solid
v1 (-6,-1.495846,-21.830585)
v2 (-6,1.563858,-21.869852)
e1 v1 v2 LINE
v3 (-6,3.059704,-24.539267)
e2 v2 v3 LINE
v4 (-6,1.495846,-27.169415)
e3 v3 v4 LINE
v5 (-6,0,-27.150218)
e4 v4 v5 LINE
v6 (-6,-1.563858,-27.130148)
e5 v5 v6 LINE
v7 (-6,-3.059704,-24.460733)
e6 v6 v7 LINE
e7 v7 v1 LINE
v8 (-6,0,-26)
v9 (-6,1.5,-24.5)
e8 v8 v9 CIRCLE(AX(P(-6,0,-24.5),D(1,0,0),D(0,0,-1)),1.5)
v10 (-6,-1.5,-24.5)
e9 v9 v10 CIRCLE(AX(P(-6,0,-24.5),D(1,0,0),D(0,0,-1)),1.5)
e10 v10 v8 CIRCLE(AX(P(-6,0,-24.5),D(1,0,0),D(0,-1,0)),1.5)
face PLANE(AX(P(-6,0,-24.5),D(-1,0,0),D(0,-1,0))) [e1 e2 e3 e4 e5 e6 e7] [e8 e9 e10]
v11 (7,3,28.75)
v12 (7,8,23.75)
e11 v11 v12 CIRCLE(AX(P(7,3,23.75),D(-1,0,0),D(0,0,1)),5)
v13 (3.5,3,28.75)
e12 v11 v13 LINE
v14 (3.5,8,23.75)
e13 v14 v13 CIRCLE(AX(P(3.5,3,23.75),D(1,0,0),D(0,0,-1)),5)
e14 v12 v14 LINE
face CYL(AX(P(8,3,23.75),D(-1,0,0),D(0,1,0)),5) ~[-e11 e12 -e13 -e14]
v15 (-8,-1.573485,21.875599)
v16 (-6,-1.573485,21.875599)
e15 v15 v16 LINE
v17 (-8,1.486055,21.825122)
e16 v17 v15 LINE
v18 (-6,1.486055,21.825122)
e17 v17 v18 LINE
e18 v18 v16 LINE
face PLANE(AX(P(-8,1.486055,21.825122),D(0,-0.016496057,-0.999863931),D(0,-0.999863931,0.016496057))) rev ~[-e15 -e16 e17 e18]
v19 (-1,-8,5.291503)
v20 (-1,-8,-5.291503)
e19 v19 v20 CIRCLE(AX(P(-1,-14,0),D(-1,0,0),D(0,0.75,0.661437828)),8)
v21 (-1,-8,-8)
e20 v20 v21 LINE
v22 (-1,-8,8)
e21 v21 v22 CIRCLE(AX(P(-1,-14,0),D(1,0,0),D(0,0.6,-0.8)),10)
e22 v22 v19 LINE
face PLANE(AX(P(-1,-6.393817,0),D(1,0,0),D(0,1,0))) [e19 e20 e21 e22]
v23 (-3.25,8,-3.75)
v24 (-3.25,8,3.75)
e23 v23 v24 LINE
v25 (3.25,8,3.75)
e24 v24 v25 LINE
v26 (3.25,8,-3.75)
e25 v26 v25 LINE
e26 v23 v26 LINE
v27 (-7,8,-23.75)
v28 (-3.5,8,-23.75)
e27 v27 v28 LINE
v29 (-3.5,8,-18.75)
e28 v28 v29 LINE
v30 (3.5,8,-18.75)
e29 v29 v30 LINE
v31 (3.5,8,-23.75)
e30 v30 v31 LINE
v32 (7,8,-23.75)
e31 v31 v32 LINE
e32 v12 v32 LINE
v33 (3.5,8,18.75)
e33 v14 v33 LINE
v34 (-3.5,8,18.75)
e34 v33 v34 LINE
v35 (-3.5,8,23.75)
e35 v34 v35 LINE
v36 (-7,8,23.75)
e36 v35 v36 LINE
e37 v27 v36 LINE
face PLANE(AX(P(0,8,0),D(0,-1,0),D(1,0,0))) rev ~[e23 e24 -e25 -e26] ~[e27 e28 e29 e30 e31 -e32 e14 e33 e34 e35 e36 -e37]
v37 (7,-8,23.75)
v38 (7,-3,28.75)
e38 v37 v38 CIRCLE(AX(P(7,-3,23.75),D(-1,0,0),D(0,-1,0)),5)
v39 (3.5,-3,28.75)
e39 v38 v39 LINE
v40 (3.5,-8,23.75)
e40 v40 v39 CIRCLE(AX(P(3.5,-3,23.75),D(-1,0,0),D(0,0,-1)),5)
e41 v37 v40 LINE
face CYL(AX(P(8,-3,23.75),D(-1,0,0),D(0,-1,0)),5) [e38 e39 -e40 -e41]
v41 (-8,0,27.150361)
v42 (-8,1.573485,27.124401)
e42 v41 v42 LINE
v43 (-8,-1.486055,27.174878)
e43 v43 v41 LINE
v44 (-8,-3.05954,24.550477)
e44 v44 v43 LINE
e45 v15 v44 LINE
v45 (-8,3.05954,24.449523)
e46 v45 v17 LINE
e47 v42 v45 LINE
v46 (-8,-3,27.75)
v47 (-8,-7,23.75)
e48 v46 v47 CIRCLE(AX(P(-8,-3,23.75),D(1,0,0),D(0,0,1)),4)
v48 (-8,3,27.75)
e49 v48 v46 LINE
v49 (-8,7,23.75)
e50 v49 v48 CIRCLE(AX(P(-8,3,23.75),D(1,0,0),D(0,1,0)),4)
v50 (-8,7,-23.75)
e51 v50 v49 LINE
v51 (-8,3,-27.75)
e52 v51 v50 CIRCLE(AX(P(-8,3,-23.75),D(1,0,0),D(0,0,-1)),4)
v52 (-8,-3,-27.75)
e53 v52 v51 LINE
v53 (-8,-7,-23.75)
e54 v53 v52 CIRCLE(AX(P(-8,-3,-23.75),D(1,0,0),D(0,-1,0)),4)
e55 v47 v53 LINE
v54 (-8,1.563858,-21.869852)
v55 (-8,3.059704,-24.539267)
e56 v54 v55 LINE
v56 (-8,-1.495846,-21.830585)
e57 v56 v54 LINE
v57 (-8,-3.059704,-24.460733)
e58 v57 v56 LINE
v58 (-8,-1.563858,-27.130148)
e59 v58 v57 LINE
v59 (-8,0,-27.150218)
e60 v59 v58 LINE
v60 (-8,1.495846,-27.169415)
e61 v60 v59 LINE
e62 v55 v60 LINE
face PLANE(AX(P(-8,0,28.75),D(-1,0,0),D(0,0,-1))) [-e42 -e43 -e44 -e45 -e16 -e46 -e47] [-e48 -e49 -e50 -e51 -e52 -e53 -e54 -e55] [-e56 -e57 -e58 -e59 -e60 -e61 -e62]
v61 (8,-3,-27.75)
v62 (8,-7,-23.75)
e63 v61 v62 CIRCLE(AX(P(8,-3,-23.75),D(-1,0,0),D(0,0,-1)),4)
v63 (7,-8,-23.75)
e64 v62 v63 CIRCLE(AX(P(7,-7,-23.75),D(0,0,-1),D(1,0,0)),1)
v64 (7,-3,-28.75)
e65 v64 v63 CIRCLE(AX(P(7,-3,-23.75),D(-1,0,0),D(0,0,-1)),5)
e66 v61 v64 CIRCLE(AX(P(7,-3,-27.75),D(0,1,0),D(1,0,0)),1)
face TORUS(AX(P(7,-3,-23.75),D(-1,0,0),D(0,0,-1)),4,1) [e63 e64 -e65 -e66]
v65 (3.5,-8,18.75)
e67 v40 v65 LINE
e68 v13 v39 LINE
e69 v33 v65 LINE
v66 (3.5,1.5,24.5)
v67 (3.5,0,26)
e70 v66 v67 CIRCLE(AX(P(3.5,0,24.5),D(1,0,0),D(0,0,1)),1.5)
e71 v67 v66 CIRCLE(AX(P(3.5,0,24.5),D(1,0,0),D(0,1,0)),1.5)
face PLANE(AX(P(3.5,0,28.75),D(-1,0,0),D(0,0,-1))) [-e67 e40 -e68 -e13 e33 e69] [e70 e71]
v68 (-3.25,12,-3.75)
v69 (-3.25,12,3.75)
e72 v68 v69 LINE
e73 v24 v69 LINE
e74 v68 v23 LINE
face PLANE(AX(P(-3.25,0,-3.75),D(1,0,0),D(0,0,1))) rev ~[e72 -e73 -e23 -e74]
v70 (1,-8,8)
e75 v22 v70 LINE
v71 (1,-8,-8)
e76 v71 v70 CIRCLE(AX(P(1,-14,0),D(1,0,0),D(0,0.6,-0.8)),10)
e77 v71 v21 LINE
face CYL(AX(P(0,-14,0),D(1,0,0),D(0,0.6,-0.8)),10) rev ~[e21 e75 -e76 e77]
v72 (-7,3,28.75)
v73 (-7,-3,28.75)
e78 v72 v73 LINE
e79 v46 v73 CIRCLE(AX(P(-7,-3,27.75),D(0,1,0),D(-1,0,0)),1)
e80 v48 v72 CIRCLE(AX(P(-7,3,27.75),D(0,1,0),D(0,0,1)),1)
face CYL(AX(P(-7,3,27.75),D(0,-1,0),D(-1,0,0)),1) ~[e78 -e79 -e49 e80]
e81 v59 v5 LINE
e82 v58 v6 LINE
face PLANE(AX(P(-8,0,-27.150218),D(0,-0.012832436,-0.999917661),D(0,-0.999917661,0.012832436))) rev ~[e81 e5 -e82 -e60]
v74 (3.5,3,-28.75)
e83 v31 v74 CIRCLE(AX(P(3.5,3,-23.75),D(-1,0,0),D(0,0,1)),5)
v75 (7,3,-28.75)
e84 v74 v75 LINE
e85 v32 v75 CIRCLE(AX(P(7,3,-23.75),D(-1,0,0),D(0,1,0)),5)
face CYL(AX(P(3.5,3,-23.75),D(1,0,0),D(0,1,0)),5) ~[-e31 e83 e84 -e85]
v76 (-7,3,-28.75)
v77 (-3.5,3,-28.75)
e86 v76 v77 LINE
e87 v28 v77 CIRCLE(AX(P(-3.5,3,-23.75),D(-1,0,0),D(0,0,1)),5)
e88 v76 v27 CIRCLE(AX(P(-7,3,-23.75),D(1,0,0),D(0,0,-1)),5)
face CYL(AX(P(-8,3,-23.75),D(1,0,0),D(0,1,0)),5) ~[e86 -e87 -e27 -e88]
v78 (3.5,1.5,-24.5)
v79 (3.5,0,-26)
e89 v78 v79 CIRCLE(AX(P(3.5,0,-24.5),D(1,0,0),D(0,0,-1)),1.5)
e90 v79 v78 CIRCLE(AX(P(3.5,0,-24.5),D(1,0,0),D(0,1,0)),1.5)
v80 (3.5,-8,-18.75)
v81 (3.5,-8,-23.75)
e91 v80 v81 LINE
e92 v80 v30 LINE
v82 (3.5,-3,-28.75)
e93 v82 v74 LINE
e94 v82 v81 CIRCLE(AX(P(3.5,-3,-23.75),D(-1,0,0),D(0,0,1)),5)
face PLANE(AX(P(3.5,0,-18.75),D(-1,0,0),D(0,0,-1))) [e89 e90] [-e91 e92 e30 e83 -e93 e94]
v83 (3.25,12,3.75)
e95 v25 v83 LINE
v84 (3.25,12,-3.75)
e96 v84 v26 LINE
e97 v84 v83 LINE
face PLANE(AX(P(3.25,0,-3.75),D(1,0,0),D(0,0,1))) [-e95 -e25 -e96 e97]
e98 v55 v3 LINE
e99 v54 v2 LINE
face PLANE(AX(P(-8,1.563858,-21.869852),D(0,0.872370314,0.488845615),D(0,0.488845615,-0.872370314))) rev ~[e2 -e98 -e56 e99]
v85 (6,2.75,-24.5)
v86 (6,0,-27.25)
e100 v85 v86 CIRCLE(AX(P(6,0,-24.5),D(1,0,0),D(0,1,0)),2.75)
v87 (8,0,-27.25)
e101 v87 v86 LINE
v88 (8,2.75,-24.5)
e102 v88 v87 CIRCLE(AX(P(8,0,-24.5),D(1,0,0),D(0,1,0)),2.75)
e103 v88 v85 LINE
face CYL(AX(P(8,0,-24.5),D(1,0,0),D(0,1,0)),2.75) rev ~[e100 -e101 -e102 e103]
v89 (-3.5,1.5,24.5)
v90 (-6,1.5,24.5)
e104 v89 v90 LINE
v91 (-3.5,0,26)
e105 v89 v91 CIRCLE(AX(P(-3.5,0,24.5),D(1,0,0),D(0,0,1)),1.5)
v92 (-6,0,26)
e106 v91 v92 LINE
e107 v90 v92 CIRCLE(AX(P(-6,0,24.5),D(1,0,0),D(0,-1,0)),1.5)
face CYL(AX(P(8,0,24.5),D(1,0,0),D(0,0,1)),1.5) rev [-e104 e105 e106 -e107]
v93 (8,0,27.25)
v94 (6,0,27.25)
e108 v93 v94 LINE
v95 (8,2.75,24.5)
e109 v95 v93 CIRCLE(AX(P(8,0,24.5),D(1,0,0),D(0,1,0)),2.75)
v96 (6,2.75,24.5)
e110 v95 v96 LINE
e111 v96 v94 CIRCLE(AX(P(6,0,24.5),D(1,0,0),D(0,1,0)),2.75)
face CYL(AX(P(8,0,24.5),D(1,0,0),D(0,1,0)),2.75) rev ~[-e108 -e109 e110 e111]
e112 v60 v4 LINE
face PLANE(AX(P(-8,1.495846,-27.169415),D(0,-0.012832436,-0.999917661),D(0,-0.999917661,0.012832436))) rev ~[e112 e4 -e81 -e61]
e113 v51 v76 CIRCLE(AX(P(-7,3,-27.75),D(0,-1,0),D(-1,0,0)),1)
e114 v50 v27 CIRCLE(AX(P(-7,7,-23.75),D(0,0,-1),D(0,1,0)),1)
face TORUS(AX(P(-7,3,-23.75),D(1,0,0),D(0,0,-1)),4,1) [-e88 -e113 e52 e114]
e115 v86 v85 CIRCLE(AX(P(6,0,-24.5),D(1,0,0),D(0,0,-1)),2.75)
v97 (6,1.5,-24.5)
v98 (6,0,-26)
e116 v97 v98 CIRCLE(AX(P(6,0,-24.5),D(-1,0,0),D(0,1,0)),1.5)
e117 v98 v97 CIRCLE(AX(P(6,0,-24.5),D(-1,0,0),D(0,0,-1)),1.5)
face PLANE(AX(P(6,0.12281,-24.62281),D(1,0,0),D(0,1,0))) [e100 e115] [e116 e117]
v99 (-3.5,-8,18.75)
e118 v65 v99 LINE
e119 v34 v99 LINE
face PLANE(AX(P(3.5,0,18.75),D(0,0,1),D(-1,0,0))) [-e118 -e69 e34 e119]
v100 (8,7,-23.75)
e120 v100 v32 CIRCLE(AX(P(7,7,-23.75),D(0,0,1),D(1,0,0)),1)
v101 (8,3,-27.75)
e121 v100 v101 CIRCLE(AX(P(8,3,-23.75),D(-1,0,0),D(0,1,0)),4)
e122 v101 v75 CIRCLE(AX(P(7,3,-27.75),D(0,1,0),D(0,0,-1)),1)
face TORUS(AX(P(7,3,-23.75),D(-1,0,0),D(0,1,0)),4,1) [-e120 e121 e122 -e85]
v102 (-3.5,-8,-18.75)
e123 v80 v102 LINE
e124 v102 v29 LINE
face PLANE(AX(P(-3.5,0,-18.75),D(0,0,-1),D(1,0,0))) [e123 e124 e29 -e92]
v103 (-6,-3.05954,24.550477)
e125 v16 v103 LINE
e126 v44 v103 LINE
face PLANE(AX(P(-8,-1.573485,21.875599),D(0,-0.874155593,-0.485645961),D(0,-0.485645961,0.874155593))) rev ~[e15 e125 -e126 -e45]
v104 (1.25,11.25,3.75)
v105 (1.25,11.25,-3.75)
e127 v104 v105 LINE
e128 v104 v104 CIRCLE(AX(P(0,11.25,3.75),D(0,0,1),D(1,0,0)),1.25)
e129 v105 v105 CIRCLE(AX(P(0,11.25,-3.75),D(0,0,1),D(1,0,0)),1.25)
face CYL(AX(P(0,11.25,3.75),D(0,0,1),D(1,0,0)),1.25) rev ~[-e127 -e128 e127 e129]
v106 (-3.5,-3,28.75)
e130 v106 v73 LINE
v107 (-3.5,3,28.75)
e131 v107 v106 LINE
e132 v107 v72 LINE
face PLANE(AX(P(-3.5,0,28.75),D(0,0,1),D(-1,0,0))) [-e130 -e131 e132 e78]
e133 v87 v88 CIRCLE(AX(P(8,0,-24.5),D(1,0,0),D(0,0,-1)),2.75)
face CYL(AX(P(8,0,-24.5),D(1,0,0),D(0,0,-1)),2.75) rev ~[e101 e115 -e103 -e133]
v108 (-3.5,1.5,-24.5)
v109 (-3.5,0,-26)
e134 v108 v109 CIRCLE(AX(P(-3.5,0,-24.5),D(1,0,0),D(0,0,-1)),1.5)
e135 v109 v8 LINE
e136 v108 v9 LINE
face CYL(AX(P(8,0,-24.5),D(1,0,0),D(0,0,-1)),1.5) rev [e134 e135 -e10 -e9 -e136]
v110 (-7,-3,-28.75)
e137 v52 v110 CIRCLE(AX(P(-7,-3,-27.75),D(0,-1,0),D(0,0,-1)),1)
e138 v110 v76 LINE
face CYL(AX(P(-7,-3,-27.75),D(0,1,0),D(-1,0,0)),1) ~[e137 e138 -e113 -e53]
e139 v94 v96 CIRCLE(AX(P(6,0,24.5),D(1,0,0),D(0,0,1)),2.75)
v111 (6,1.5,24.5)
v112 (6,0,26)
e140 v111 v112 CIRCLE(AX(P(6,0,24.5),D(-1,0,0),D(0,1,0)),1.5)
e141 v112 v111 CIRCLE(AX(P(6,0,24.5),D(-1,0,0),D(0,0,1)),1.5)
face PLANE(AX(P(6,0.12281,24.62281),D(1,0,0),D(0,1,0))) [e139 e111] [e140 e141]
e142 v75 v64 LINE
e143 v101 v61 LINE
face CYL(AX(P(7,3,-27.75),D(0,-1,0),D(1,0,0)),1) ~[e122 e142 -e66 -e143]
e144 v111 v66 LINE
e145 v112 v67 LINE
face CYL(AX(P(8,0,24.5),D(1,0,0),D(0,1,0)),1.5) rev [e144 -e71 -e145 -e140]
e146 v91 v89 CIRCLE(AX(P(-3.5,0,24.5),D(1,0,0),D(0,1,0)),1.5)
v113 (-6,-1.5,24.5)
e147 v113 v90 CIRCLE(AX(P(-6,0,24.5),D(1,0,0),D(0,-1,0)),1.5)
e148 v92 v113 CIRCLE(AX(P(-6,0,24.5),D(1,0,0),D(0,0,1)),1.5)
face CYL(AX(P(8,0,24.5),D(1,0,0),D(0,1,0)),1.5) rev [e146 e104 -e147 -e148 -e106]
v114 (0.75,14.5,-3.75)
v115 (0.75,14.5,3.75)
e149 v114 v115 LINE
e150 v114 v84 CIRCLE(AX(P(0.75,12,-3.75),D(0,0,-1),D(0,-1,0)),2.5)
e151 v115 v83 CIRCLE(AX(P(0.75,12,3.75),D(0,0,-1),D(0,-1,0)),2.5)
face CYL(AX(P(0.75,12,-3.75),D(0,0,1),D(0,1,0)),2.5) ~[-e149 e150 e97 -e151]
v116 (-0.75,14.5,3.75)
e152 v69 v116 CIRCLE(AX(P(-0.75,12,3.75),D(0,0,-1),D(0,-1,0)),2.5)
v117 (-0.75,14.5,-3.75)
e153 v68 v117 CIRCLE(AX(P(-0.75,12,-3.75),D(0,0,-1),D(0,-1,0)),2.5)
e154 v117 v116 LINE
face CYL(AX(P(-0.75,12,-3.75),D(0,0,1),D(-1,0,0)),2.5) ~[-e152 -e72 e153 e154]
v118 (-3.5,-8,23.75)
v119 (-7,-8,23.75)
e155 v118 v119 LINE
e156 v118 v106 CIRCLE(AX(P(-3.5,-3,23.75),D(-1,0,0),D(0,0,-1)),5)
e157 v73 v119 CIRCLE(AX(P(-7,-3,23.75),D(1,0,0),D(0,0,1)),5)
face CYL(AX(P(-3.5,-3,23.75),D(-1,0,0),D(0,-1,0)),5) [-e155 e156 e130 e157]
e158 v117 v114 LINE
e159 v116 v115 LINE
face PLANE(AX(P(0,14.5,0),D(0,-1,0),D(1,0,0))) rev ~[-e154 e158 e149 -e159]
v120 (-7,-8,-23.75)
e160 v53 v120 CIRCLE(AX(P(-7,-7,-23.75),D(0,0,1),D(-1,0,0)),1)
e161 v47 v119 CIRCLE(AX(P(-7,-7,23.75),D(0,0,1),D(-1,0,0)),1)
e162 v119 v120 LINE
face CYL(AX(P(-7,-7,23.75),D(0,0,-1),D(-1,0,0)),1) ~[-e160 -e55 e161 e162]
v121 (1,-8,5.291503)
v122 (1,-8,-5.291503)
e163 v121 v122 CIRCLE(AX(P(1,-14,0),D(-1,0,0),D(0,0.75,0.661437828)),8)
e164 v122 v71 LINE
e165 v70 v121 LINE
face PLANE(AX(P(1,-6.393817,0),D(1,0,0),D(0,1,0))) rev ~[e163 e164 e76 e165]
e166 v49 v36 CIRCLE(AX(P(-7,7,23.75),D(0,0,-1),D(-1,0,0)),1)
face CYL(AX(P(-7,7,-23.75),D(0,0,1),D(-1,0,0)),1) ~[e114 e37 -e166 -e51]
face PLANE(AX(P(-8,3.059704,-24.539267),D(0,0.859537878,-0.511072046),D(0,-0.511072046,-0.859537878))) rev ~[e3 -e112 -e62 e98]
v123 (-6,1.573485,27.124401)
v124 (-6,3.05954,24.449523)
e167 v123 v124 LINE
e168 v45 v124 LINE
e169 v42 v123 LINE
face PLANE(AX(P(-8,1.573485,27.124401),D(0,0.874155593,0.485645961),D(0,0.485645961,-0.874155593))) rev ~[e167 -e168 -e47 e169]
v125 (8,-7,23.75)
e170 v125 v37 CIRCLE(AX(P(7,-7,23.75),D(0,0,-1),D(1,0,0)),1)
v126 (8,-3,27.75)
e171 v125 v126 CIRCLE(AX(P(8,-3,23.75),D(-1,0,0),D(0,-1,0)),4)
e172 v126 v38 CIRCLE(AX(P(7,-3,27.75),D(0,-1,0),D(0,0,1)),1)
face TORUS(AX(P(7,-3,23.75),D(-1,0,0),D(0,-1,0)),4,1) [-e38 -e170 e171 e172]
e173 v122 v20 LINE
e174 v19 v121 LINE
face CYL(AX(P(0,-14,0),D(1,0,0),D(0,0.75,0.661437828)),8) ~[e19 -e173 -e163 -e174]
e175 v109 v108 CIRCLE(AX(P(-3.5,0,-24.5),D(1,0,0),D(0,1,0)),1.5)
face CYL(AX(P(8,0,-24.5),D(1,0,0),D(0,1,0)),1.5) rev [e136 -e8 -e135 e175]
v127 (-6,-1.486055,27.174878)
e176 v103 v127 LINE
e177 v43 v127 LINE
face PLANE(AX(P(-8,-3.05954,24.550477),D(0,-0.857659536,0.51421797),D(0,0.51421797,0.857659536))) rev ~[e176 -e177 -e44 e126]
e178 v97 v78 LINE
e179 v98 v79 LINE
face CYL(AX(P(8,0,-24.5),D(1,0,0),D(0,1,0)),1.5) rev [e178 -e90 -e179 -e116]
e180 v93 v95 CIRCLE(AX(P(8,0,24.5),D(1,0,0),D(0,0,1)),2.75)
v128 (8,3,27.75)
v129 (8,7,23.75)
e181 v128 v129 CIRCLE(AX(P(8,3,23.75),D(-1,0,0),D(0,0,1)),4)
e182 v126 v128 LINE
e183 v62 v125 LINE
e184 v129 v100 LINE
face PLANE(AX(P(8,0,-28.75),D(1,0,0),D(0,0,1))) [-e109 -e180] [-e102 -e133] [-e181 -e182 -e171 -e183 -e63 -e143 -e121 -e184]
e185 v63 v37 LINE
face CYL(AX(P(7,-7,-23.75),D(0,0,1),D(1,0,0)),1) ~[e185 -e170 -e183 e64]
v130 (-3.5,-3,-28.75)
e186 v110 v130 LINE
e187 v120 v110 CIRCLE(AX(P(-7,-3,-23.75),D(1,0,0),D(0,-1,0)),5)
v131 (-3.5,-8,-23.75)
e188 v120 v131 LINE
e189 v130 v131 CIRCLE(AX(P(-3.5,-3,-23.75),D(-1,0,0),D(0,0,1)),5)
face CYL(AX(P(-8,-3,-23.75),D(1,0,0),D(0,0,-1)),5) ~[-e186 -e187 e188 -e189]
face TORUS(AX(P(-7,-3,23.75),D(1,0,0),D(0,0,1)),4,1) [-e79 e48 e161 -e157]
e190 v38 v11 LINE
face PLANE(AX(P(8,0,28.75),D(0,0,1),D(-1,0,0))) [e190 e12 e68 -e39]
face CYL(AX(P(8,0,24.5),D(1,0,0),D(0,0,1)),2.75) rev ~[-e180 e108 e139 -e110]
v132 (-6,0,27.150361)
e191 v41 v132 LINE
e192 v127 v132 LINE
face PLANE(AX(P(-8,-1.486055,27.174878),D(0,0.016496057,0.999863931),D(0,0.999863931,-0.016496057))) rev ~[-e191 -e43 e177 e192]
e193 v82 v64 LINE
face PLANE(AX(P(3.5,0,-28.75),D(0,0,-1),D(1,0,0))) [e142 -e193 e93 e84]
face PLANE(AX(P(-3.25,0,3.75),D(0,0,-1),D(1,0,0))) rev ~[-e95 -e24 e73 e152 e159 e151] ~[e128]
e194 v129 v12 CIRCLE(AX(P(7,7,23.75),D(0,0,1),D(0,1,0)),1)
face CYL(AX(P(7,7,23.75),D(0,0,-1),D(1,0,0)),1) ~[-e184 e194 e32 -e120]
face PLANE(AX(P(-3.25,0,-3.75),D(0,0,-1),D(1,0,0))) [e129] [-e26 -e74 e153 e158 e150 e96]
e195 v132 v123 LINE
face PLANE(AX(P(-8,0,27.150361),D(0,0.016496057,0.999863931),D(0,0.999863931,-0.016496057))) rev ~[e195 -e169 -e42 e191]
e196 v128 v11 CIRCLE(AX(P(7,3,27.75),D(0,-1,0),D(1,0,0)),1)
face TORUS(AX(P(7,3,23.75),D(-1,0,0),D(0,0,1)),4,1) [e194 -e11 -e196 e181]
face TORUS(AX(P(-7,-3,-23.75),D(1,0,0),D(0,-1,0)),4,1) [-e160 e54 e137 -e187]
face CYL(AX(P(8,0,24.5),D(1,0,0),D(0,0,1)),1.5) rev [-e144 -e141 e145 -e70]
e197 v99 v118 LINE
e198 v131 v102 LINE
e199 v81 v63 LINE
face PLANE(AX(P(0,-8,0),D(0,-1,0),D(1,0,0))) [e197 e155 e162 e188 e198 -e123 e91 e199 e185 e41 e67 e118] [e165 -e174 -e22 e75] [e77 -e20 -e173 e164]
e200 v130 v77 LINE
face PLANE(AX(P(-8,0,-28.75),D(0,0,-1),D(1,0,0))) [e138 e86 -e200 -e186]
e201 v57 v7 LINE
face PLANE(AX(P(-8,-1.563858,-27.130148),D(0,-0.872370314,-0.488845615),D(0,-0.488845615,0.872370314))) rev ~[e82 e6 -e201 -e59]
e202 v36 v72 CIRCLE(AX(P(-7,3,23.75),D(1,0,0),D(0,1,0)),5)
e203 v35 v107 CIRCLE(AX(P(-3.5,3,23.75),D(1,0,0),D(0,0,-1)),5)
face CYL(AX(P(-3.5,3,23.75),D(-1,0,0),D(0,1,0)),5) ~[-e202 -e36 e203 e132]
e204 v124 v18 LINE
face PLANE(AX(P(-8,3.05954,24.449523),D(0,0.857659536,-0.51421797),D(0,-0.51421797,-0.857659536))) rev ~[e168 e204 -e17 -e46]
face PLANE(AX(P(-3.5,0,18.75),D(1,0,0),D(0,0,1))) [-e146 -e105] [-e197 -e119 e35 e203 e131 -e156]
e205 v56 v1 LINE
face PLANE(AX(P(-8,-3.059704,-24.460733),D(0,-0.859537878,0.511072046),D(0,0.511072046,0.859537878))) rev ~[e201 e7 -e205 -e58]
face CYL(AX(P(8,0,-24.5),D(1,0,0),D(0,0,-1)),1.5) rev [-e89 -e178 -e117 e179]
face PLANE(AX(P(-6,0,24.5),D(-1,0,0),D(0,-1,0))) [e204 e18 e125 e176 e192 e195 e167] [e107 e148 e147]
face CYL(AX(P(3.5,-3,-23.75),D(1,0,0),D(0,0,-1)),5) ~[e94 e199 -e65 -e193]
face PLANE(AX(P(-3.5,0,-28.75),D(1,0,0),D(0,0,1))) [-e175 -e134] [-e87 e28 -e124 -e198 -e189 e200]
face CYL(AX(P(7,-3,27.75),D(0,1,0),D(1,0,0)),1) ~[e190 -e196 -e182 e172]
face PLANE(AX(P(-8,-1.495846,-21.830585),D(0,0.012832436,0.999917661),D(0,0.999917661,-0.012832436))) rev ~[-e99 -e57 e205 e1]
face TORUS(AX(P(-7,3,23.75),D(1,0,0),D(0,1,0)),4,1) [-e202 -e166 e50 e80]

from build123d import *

# Parameters (mm, degrees)
F0_W      = 6.5
F0_H      = 7.5
F1_DEPTH  = 8
F3_DEPTH  = 2
F4_DEPTH  = 25
F6_DEPTH  = 2
F7_R      = 5
F8_R      = 5
F9_R      = 1
F10_DEPTH = 14.5
F11_R     = 1.25
F12_DEPTH = 32.501
F13_R     = 2.5
F14_R     = 1.25
F15_DEPTH = 32.501
F17_DEPTH = 1


with BuildPart() as f1:
    # F0 (on Front) → F1 (new body, symmetric)
    with BuildSketch(Plane.XZ):
        Polygon((3.5, -28.75), (8, -28.75), (8, 28.75), (3.5, 28.75), (3.5, 18.75), (-3.5, 18.75), (-3.5, 28.75), (-8, 28.75), (-8, -28.75), (-3.5, -28.75), (-3.5, -18.75), (3.5, -18.75), align=None)
        Rectangle(F0_W, F0_H, mode=Mode.SUBTRACT)
    extrude(amount=F1_DEPTH, both=True)

    # F2 (on face) → F3 (cut)
    with BuildSketch(Plane.YZ.offset(8)):
        with BuildLine():
            ThreePointArc((2.75, 24.5), (1.9445436483, 26.4445436483), (0, 27.25))
            ThreePointArc((0, 27.25), (-1.9445436483, 22.5554563517), (2.75, 24.5))
        make_face()
        with BuildLine():
            ThreePointArc((1.5, 24.5), (-1.0606601718, 23.4393398282), (0, 26))
            ThreePointArc((0, 26), (1.0606601718, 25.5606601718), (1.5, 24.5))
        make_face(mode=Mode.SUBTRACT)
        with BuildLine():
            ThreePointArc((2.75, -24.5), (-1.9445436483, -22.5554563517), (0, -27.25))
            ThreePointArc((0, -27.25), (1.9445436483, -26.4445436483), (2.75, -24.5))
        make_face()
        with BuildLine():
            ThreePointArc((1.5, -24.5), (1.0606601718, -25.5606601718), (0, -26))
            ThreePointArc((0, -26), (-1.0606601718, -23.4393398282), (1.5, -24.5))
        make_face(mode=Mode.SUBTRACT)
    extrude(amount=-F3_DEPTH, mode=Mode.SUBTRACT)

    # F4 (cut): faces of the model
    f4_faces = [f1.faces().sort_by_distance(p)[0] for p in [
        (8, 0, 24.5),
        (8, 0, -24.5),
    ]]
    extrude(f4_faces, amount=-F4_DEPTH, mode=Mode.SUBTRACT)

    # F5 (on face) → F6 (cut)
    with BuildSketch(Plane(origin=(-8, 0, 0), x_dir=(0, -1, 0), z_dir=(-1, 0, 0))):
        Polygon((1.4860554785, 27.1748780249), (0, 27.1503606325), (-1.5734845824, 27.1244008083), (-3.0595400608, 24.4495227834), (-1.4860554785, 21.8251219751), (1.5734845824, 21.8755991917), (3.0595400608, 24.5504772166), align=None)
        with BuildLine():
            ThreePointArc((1.5, 24.5), (-1.0606601718, 23.4393398282), (0, 26))
            ThreePointArc((0, 26), (1.0606601718, 25.5606601718), (1.5, 24.5))
        make_face(mode=Mode.SUBTRACT)
        Polygon((-1.4958462814, -27.1694151487), (0, -27.1502182166), (1.5638581913, -27.1301484541), (3.0597044727, -24.4607333055), (1.4958462814, -21.8305848513), (-1.5638581913, -21.8698515459), (-3.0597044727, -24.5392666945), align=None)
        with BuildLine():
            ThreePointArc((1.5, -24.5), (1.0606601718, -25.5606601718), (0, -26))
            ThreePointArc((0, -26), (-1.0606601718, -23.4393398282), (1.5, -24.5))
        make_face(mode=Mode.SUBTRACT)
    extrude(amount=-F6_DEPTH, mode=Mode.SUBTRACT)

    # F7
    f7_edges = [f1.edges().sort_by_distance(p)[0] for p in [
        (5.75, -8, 28.75),
        (5.75, 8, 28.75),
        (-5.75, 8, 28.75),
        (-5.75, -8, 28.75),
    ]]
    fillet(f7_edges, radius=F7_R)

    # F8
    f8_edges = [f1.edges().sort_by_distance(p)[0] for p in [
        (5.75, 8, -28.75),
        (-5.75, 8, -28.75),
        (5.75, -8, -28.75),
        (-5.75, -8, -28.75),
    ]]
    fillet(f8_edges, radius=F8_R)

    # F9
    f9_edges = [f1.edges().sort_by_distance(p)[0] for p in [
        (-8, -8, 0),
        (8, -8, 0),
        (8, 8, 0),
        (-8, 8, 0),
    ]]
    fillet(f9_edges, radius=F9_R)

    # F0 (on Front) → F10 (join, symmetric)
    with BuildSketch(Plane.XZ):
        Rectangle(F0_W, F0_H)
    extrude(amount=F10_DEPTH, both=True)

    # F11 (on face) → F12 (cut, through all)
    with BuildSketch(Plane.XY.offset(3.75)):
        with Locations((0, 11.25)):
            Circle(F11_R)
        with Locations((0, -11.25)):
            Circle(F11_R)
    extrude(amount=-F12_DEPTH, mode=Mode.SUBTRACT)

    # F13
    f13_edges = [f1.edges().sort_by_distance(p)[0] for p in [
        (-3.25, 14.5, 0),
        (3.25, 14.5, 0),
        (-3.25, -14.5, 0),
        (3.25, -14.5, 0),
    ]]
    fillet(f13_edges, radius=F13_R)

    # F14 (on face) → F15 (cut, through all)
    with BuildSketch(Plane.XY.offset(3.75)):
        with BuildLine():
            ThreePointArc((-3.25, -12), (-2.517766953, -13.767766953), (-0.75, -14.5))
            Line((-0.75, -14.5), (0.75, -14.5))
            ThreePointArc((0.75, -14.5), (2.517766953, -13.767766953), (3.25, -12))
            Line((3.25, -12), (3.25, -8))
            Line((3.25, -8), (-3.25, -8))
            Line((-3.25, -8), (-3.25, -12))
        make_face()
        with Locations((0, -11.25)):
            Circle(F14_R, mode=Mode.SUBTRACT)
    extrude(amount=-F15_DEPTH, mode=Mode.SUBTRACT)

    # F16 (on Right) → F17 (cut, symmetric)
    with BuildSketch(Plane.YZ):
        with BuildLine():
            ThreePointArc((-8, -8), (-4, 0), (-8, 8))
            Line((-8, 8), (-8, 5.2915026221))
            ThreePointArc((-8, 5.2915026221), (-6, 0), (-8, -5.2915026221))
            Line((-8, -5.2915026221), (-8, -8))
        make_face()
    extrude(amount=F17_DEPTH, both=True, mode=Mode.SUBTRACT)


solid = f1.part
